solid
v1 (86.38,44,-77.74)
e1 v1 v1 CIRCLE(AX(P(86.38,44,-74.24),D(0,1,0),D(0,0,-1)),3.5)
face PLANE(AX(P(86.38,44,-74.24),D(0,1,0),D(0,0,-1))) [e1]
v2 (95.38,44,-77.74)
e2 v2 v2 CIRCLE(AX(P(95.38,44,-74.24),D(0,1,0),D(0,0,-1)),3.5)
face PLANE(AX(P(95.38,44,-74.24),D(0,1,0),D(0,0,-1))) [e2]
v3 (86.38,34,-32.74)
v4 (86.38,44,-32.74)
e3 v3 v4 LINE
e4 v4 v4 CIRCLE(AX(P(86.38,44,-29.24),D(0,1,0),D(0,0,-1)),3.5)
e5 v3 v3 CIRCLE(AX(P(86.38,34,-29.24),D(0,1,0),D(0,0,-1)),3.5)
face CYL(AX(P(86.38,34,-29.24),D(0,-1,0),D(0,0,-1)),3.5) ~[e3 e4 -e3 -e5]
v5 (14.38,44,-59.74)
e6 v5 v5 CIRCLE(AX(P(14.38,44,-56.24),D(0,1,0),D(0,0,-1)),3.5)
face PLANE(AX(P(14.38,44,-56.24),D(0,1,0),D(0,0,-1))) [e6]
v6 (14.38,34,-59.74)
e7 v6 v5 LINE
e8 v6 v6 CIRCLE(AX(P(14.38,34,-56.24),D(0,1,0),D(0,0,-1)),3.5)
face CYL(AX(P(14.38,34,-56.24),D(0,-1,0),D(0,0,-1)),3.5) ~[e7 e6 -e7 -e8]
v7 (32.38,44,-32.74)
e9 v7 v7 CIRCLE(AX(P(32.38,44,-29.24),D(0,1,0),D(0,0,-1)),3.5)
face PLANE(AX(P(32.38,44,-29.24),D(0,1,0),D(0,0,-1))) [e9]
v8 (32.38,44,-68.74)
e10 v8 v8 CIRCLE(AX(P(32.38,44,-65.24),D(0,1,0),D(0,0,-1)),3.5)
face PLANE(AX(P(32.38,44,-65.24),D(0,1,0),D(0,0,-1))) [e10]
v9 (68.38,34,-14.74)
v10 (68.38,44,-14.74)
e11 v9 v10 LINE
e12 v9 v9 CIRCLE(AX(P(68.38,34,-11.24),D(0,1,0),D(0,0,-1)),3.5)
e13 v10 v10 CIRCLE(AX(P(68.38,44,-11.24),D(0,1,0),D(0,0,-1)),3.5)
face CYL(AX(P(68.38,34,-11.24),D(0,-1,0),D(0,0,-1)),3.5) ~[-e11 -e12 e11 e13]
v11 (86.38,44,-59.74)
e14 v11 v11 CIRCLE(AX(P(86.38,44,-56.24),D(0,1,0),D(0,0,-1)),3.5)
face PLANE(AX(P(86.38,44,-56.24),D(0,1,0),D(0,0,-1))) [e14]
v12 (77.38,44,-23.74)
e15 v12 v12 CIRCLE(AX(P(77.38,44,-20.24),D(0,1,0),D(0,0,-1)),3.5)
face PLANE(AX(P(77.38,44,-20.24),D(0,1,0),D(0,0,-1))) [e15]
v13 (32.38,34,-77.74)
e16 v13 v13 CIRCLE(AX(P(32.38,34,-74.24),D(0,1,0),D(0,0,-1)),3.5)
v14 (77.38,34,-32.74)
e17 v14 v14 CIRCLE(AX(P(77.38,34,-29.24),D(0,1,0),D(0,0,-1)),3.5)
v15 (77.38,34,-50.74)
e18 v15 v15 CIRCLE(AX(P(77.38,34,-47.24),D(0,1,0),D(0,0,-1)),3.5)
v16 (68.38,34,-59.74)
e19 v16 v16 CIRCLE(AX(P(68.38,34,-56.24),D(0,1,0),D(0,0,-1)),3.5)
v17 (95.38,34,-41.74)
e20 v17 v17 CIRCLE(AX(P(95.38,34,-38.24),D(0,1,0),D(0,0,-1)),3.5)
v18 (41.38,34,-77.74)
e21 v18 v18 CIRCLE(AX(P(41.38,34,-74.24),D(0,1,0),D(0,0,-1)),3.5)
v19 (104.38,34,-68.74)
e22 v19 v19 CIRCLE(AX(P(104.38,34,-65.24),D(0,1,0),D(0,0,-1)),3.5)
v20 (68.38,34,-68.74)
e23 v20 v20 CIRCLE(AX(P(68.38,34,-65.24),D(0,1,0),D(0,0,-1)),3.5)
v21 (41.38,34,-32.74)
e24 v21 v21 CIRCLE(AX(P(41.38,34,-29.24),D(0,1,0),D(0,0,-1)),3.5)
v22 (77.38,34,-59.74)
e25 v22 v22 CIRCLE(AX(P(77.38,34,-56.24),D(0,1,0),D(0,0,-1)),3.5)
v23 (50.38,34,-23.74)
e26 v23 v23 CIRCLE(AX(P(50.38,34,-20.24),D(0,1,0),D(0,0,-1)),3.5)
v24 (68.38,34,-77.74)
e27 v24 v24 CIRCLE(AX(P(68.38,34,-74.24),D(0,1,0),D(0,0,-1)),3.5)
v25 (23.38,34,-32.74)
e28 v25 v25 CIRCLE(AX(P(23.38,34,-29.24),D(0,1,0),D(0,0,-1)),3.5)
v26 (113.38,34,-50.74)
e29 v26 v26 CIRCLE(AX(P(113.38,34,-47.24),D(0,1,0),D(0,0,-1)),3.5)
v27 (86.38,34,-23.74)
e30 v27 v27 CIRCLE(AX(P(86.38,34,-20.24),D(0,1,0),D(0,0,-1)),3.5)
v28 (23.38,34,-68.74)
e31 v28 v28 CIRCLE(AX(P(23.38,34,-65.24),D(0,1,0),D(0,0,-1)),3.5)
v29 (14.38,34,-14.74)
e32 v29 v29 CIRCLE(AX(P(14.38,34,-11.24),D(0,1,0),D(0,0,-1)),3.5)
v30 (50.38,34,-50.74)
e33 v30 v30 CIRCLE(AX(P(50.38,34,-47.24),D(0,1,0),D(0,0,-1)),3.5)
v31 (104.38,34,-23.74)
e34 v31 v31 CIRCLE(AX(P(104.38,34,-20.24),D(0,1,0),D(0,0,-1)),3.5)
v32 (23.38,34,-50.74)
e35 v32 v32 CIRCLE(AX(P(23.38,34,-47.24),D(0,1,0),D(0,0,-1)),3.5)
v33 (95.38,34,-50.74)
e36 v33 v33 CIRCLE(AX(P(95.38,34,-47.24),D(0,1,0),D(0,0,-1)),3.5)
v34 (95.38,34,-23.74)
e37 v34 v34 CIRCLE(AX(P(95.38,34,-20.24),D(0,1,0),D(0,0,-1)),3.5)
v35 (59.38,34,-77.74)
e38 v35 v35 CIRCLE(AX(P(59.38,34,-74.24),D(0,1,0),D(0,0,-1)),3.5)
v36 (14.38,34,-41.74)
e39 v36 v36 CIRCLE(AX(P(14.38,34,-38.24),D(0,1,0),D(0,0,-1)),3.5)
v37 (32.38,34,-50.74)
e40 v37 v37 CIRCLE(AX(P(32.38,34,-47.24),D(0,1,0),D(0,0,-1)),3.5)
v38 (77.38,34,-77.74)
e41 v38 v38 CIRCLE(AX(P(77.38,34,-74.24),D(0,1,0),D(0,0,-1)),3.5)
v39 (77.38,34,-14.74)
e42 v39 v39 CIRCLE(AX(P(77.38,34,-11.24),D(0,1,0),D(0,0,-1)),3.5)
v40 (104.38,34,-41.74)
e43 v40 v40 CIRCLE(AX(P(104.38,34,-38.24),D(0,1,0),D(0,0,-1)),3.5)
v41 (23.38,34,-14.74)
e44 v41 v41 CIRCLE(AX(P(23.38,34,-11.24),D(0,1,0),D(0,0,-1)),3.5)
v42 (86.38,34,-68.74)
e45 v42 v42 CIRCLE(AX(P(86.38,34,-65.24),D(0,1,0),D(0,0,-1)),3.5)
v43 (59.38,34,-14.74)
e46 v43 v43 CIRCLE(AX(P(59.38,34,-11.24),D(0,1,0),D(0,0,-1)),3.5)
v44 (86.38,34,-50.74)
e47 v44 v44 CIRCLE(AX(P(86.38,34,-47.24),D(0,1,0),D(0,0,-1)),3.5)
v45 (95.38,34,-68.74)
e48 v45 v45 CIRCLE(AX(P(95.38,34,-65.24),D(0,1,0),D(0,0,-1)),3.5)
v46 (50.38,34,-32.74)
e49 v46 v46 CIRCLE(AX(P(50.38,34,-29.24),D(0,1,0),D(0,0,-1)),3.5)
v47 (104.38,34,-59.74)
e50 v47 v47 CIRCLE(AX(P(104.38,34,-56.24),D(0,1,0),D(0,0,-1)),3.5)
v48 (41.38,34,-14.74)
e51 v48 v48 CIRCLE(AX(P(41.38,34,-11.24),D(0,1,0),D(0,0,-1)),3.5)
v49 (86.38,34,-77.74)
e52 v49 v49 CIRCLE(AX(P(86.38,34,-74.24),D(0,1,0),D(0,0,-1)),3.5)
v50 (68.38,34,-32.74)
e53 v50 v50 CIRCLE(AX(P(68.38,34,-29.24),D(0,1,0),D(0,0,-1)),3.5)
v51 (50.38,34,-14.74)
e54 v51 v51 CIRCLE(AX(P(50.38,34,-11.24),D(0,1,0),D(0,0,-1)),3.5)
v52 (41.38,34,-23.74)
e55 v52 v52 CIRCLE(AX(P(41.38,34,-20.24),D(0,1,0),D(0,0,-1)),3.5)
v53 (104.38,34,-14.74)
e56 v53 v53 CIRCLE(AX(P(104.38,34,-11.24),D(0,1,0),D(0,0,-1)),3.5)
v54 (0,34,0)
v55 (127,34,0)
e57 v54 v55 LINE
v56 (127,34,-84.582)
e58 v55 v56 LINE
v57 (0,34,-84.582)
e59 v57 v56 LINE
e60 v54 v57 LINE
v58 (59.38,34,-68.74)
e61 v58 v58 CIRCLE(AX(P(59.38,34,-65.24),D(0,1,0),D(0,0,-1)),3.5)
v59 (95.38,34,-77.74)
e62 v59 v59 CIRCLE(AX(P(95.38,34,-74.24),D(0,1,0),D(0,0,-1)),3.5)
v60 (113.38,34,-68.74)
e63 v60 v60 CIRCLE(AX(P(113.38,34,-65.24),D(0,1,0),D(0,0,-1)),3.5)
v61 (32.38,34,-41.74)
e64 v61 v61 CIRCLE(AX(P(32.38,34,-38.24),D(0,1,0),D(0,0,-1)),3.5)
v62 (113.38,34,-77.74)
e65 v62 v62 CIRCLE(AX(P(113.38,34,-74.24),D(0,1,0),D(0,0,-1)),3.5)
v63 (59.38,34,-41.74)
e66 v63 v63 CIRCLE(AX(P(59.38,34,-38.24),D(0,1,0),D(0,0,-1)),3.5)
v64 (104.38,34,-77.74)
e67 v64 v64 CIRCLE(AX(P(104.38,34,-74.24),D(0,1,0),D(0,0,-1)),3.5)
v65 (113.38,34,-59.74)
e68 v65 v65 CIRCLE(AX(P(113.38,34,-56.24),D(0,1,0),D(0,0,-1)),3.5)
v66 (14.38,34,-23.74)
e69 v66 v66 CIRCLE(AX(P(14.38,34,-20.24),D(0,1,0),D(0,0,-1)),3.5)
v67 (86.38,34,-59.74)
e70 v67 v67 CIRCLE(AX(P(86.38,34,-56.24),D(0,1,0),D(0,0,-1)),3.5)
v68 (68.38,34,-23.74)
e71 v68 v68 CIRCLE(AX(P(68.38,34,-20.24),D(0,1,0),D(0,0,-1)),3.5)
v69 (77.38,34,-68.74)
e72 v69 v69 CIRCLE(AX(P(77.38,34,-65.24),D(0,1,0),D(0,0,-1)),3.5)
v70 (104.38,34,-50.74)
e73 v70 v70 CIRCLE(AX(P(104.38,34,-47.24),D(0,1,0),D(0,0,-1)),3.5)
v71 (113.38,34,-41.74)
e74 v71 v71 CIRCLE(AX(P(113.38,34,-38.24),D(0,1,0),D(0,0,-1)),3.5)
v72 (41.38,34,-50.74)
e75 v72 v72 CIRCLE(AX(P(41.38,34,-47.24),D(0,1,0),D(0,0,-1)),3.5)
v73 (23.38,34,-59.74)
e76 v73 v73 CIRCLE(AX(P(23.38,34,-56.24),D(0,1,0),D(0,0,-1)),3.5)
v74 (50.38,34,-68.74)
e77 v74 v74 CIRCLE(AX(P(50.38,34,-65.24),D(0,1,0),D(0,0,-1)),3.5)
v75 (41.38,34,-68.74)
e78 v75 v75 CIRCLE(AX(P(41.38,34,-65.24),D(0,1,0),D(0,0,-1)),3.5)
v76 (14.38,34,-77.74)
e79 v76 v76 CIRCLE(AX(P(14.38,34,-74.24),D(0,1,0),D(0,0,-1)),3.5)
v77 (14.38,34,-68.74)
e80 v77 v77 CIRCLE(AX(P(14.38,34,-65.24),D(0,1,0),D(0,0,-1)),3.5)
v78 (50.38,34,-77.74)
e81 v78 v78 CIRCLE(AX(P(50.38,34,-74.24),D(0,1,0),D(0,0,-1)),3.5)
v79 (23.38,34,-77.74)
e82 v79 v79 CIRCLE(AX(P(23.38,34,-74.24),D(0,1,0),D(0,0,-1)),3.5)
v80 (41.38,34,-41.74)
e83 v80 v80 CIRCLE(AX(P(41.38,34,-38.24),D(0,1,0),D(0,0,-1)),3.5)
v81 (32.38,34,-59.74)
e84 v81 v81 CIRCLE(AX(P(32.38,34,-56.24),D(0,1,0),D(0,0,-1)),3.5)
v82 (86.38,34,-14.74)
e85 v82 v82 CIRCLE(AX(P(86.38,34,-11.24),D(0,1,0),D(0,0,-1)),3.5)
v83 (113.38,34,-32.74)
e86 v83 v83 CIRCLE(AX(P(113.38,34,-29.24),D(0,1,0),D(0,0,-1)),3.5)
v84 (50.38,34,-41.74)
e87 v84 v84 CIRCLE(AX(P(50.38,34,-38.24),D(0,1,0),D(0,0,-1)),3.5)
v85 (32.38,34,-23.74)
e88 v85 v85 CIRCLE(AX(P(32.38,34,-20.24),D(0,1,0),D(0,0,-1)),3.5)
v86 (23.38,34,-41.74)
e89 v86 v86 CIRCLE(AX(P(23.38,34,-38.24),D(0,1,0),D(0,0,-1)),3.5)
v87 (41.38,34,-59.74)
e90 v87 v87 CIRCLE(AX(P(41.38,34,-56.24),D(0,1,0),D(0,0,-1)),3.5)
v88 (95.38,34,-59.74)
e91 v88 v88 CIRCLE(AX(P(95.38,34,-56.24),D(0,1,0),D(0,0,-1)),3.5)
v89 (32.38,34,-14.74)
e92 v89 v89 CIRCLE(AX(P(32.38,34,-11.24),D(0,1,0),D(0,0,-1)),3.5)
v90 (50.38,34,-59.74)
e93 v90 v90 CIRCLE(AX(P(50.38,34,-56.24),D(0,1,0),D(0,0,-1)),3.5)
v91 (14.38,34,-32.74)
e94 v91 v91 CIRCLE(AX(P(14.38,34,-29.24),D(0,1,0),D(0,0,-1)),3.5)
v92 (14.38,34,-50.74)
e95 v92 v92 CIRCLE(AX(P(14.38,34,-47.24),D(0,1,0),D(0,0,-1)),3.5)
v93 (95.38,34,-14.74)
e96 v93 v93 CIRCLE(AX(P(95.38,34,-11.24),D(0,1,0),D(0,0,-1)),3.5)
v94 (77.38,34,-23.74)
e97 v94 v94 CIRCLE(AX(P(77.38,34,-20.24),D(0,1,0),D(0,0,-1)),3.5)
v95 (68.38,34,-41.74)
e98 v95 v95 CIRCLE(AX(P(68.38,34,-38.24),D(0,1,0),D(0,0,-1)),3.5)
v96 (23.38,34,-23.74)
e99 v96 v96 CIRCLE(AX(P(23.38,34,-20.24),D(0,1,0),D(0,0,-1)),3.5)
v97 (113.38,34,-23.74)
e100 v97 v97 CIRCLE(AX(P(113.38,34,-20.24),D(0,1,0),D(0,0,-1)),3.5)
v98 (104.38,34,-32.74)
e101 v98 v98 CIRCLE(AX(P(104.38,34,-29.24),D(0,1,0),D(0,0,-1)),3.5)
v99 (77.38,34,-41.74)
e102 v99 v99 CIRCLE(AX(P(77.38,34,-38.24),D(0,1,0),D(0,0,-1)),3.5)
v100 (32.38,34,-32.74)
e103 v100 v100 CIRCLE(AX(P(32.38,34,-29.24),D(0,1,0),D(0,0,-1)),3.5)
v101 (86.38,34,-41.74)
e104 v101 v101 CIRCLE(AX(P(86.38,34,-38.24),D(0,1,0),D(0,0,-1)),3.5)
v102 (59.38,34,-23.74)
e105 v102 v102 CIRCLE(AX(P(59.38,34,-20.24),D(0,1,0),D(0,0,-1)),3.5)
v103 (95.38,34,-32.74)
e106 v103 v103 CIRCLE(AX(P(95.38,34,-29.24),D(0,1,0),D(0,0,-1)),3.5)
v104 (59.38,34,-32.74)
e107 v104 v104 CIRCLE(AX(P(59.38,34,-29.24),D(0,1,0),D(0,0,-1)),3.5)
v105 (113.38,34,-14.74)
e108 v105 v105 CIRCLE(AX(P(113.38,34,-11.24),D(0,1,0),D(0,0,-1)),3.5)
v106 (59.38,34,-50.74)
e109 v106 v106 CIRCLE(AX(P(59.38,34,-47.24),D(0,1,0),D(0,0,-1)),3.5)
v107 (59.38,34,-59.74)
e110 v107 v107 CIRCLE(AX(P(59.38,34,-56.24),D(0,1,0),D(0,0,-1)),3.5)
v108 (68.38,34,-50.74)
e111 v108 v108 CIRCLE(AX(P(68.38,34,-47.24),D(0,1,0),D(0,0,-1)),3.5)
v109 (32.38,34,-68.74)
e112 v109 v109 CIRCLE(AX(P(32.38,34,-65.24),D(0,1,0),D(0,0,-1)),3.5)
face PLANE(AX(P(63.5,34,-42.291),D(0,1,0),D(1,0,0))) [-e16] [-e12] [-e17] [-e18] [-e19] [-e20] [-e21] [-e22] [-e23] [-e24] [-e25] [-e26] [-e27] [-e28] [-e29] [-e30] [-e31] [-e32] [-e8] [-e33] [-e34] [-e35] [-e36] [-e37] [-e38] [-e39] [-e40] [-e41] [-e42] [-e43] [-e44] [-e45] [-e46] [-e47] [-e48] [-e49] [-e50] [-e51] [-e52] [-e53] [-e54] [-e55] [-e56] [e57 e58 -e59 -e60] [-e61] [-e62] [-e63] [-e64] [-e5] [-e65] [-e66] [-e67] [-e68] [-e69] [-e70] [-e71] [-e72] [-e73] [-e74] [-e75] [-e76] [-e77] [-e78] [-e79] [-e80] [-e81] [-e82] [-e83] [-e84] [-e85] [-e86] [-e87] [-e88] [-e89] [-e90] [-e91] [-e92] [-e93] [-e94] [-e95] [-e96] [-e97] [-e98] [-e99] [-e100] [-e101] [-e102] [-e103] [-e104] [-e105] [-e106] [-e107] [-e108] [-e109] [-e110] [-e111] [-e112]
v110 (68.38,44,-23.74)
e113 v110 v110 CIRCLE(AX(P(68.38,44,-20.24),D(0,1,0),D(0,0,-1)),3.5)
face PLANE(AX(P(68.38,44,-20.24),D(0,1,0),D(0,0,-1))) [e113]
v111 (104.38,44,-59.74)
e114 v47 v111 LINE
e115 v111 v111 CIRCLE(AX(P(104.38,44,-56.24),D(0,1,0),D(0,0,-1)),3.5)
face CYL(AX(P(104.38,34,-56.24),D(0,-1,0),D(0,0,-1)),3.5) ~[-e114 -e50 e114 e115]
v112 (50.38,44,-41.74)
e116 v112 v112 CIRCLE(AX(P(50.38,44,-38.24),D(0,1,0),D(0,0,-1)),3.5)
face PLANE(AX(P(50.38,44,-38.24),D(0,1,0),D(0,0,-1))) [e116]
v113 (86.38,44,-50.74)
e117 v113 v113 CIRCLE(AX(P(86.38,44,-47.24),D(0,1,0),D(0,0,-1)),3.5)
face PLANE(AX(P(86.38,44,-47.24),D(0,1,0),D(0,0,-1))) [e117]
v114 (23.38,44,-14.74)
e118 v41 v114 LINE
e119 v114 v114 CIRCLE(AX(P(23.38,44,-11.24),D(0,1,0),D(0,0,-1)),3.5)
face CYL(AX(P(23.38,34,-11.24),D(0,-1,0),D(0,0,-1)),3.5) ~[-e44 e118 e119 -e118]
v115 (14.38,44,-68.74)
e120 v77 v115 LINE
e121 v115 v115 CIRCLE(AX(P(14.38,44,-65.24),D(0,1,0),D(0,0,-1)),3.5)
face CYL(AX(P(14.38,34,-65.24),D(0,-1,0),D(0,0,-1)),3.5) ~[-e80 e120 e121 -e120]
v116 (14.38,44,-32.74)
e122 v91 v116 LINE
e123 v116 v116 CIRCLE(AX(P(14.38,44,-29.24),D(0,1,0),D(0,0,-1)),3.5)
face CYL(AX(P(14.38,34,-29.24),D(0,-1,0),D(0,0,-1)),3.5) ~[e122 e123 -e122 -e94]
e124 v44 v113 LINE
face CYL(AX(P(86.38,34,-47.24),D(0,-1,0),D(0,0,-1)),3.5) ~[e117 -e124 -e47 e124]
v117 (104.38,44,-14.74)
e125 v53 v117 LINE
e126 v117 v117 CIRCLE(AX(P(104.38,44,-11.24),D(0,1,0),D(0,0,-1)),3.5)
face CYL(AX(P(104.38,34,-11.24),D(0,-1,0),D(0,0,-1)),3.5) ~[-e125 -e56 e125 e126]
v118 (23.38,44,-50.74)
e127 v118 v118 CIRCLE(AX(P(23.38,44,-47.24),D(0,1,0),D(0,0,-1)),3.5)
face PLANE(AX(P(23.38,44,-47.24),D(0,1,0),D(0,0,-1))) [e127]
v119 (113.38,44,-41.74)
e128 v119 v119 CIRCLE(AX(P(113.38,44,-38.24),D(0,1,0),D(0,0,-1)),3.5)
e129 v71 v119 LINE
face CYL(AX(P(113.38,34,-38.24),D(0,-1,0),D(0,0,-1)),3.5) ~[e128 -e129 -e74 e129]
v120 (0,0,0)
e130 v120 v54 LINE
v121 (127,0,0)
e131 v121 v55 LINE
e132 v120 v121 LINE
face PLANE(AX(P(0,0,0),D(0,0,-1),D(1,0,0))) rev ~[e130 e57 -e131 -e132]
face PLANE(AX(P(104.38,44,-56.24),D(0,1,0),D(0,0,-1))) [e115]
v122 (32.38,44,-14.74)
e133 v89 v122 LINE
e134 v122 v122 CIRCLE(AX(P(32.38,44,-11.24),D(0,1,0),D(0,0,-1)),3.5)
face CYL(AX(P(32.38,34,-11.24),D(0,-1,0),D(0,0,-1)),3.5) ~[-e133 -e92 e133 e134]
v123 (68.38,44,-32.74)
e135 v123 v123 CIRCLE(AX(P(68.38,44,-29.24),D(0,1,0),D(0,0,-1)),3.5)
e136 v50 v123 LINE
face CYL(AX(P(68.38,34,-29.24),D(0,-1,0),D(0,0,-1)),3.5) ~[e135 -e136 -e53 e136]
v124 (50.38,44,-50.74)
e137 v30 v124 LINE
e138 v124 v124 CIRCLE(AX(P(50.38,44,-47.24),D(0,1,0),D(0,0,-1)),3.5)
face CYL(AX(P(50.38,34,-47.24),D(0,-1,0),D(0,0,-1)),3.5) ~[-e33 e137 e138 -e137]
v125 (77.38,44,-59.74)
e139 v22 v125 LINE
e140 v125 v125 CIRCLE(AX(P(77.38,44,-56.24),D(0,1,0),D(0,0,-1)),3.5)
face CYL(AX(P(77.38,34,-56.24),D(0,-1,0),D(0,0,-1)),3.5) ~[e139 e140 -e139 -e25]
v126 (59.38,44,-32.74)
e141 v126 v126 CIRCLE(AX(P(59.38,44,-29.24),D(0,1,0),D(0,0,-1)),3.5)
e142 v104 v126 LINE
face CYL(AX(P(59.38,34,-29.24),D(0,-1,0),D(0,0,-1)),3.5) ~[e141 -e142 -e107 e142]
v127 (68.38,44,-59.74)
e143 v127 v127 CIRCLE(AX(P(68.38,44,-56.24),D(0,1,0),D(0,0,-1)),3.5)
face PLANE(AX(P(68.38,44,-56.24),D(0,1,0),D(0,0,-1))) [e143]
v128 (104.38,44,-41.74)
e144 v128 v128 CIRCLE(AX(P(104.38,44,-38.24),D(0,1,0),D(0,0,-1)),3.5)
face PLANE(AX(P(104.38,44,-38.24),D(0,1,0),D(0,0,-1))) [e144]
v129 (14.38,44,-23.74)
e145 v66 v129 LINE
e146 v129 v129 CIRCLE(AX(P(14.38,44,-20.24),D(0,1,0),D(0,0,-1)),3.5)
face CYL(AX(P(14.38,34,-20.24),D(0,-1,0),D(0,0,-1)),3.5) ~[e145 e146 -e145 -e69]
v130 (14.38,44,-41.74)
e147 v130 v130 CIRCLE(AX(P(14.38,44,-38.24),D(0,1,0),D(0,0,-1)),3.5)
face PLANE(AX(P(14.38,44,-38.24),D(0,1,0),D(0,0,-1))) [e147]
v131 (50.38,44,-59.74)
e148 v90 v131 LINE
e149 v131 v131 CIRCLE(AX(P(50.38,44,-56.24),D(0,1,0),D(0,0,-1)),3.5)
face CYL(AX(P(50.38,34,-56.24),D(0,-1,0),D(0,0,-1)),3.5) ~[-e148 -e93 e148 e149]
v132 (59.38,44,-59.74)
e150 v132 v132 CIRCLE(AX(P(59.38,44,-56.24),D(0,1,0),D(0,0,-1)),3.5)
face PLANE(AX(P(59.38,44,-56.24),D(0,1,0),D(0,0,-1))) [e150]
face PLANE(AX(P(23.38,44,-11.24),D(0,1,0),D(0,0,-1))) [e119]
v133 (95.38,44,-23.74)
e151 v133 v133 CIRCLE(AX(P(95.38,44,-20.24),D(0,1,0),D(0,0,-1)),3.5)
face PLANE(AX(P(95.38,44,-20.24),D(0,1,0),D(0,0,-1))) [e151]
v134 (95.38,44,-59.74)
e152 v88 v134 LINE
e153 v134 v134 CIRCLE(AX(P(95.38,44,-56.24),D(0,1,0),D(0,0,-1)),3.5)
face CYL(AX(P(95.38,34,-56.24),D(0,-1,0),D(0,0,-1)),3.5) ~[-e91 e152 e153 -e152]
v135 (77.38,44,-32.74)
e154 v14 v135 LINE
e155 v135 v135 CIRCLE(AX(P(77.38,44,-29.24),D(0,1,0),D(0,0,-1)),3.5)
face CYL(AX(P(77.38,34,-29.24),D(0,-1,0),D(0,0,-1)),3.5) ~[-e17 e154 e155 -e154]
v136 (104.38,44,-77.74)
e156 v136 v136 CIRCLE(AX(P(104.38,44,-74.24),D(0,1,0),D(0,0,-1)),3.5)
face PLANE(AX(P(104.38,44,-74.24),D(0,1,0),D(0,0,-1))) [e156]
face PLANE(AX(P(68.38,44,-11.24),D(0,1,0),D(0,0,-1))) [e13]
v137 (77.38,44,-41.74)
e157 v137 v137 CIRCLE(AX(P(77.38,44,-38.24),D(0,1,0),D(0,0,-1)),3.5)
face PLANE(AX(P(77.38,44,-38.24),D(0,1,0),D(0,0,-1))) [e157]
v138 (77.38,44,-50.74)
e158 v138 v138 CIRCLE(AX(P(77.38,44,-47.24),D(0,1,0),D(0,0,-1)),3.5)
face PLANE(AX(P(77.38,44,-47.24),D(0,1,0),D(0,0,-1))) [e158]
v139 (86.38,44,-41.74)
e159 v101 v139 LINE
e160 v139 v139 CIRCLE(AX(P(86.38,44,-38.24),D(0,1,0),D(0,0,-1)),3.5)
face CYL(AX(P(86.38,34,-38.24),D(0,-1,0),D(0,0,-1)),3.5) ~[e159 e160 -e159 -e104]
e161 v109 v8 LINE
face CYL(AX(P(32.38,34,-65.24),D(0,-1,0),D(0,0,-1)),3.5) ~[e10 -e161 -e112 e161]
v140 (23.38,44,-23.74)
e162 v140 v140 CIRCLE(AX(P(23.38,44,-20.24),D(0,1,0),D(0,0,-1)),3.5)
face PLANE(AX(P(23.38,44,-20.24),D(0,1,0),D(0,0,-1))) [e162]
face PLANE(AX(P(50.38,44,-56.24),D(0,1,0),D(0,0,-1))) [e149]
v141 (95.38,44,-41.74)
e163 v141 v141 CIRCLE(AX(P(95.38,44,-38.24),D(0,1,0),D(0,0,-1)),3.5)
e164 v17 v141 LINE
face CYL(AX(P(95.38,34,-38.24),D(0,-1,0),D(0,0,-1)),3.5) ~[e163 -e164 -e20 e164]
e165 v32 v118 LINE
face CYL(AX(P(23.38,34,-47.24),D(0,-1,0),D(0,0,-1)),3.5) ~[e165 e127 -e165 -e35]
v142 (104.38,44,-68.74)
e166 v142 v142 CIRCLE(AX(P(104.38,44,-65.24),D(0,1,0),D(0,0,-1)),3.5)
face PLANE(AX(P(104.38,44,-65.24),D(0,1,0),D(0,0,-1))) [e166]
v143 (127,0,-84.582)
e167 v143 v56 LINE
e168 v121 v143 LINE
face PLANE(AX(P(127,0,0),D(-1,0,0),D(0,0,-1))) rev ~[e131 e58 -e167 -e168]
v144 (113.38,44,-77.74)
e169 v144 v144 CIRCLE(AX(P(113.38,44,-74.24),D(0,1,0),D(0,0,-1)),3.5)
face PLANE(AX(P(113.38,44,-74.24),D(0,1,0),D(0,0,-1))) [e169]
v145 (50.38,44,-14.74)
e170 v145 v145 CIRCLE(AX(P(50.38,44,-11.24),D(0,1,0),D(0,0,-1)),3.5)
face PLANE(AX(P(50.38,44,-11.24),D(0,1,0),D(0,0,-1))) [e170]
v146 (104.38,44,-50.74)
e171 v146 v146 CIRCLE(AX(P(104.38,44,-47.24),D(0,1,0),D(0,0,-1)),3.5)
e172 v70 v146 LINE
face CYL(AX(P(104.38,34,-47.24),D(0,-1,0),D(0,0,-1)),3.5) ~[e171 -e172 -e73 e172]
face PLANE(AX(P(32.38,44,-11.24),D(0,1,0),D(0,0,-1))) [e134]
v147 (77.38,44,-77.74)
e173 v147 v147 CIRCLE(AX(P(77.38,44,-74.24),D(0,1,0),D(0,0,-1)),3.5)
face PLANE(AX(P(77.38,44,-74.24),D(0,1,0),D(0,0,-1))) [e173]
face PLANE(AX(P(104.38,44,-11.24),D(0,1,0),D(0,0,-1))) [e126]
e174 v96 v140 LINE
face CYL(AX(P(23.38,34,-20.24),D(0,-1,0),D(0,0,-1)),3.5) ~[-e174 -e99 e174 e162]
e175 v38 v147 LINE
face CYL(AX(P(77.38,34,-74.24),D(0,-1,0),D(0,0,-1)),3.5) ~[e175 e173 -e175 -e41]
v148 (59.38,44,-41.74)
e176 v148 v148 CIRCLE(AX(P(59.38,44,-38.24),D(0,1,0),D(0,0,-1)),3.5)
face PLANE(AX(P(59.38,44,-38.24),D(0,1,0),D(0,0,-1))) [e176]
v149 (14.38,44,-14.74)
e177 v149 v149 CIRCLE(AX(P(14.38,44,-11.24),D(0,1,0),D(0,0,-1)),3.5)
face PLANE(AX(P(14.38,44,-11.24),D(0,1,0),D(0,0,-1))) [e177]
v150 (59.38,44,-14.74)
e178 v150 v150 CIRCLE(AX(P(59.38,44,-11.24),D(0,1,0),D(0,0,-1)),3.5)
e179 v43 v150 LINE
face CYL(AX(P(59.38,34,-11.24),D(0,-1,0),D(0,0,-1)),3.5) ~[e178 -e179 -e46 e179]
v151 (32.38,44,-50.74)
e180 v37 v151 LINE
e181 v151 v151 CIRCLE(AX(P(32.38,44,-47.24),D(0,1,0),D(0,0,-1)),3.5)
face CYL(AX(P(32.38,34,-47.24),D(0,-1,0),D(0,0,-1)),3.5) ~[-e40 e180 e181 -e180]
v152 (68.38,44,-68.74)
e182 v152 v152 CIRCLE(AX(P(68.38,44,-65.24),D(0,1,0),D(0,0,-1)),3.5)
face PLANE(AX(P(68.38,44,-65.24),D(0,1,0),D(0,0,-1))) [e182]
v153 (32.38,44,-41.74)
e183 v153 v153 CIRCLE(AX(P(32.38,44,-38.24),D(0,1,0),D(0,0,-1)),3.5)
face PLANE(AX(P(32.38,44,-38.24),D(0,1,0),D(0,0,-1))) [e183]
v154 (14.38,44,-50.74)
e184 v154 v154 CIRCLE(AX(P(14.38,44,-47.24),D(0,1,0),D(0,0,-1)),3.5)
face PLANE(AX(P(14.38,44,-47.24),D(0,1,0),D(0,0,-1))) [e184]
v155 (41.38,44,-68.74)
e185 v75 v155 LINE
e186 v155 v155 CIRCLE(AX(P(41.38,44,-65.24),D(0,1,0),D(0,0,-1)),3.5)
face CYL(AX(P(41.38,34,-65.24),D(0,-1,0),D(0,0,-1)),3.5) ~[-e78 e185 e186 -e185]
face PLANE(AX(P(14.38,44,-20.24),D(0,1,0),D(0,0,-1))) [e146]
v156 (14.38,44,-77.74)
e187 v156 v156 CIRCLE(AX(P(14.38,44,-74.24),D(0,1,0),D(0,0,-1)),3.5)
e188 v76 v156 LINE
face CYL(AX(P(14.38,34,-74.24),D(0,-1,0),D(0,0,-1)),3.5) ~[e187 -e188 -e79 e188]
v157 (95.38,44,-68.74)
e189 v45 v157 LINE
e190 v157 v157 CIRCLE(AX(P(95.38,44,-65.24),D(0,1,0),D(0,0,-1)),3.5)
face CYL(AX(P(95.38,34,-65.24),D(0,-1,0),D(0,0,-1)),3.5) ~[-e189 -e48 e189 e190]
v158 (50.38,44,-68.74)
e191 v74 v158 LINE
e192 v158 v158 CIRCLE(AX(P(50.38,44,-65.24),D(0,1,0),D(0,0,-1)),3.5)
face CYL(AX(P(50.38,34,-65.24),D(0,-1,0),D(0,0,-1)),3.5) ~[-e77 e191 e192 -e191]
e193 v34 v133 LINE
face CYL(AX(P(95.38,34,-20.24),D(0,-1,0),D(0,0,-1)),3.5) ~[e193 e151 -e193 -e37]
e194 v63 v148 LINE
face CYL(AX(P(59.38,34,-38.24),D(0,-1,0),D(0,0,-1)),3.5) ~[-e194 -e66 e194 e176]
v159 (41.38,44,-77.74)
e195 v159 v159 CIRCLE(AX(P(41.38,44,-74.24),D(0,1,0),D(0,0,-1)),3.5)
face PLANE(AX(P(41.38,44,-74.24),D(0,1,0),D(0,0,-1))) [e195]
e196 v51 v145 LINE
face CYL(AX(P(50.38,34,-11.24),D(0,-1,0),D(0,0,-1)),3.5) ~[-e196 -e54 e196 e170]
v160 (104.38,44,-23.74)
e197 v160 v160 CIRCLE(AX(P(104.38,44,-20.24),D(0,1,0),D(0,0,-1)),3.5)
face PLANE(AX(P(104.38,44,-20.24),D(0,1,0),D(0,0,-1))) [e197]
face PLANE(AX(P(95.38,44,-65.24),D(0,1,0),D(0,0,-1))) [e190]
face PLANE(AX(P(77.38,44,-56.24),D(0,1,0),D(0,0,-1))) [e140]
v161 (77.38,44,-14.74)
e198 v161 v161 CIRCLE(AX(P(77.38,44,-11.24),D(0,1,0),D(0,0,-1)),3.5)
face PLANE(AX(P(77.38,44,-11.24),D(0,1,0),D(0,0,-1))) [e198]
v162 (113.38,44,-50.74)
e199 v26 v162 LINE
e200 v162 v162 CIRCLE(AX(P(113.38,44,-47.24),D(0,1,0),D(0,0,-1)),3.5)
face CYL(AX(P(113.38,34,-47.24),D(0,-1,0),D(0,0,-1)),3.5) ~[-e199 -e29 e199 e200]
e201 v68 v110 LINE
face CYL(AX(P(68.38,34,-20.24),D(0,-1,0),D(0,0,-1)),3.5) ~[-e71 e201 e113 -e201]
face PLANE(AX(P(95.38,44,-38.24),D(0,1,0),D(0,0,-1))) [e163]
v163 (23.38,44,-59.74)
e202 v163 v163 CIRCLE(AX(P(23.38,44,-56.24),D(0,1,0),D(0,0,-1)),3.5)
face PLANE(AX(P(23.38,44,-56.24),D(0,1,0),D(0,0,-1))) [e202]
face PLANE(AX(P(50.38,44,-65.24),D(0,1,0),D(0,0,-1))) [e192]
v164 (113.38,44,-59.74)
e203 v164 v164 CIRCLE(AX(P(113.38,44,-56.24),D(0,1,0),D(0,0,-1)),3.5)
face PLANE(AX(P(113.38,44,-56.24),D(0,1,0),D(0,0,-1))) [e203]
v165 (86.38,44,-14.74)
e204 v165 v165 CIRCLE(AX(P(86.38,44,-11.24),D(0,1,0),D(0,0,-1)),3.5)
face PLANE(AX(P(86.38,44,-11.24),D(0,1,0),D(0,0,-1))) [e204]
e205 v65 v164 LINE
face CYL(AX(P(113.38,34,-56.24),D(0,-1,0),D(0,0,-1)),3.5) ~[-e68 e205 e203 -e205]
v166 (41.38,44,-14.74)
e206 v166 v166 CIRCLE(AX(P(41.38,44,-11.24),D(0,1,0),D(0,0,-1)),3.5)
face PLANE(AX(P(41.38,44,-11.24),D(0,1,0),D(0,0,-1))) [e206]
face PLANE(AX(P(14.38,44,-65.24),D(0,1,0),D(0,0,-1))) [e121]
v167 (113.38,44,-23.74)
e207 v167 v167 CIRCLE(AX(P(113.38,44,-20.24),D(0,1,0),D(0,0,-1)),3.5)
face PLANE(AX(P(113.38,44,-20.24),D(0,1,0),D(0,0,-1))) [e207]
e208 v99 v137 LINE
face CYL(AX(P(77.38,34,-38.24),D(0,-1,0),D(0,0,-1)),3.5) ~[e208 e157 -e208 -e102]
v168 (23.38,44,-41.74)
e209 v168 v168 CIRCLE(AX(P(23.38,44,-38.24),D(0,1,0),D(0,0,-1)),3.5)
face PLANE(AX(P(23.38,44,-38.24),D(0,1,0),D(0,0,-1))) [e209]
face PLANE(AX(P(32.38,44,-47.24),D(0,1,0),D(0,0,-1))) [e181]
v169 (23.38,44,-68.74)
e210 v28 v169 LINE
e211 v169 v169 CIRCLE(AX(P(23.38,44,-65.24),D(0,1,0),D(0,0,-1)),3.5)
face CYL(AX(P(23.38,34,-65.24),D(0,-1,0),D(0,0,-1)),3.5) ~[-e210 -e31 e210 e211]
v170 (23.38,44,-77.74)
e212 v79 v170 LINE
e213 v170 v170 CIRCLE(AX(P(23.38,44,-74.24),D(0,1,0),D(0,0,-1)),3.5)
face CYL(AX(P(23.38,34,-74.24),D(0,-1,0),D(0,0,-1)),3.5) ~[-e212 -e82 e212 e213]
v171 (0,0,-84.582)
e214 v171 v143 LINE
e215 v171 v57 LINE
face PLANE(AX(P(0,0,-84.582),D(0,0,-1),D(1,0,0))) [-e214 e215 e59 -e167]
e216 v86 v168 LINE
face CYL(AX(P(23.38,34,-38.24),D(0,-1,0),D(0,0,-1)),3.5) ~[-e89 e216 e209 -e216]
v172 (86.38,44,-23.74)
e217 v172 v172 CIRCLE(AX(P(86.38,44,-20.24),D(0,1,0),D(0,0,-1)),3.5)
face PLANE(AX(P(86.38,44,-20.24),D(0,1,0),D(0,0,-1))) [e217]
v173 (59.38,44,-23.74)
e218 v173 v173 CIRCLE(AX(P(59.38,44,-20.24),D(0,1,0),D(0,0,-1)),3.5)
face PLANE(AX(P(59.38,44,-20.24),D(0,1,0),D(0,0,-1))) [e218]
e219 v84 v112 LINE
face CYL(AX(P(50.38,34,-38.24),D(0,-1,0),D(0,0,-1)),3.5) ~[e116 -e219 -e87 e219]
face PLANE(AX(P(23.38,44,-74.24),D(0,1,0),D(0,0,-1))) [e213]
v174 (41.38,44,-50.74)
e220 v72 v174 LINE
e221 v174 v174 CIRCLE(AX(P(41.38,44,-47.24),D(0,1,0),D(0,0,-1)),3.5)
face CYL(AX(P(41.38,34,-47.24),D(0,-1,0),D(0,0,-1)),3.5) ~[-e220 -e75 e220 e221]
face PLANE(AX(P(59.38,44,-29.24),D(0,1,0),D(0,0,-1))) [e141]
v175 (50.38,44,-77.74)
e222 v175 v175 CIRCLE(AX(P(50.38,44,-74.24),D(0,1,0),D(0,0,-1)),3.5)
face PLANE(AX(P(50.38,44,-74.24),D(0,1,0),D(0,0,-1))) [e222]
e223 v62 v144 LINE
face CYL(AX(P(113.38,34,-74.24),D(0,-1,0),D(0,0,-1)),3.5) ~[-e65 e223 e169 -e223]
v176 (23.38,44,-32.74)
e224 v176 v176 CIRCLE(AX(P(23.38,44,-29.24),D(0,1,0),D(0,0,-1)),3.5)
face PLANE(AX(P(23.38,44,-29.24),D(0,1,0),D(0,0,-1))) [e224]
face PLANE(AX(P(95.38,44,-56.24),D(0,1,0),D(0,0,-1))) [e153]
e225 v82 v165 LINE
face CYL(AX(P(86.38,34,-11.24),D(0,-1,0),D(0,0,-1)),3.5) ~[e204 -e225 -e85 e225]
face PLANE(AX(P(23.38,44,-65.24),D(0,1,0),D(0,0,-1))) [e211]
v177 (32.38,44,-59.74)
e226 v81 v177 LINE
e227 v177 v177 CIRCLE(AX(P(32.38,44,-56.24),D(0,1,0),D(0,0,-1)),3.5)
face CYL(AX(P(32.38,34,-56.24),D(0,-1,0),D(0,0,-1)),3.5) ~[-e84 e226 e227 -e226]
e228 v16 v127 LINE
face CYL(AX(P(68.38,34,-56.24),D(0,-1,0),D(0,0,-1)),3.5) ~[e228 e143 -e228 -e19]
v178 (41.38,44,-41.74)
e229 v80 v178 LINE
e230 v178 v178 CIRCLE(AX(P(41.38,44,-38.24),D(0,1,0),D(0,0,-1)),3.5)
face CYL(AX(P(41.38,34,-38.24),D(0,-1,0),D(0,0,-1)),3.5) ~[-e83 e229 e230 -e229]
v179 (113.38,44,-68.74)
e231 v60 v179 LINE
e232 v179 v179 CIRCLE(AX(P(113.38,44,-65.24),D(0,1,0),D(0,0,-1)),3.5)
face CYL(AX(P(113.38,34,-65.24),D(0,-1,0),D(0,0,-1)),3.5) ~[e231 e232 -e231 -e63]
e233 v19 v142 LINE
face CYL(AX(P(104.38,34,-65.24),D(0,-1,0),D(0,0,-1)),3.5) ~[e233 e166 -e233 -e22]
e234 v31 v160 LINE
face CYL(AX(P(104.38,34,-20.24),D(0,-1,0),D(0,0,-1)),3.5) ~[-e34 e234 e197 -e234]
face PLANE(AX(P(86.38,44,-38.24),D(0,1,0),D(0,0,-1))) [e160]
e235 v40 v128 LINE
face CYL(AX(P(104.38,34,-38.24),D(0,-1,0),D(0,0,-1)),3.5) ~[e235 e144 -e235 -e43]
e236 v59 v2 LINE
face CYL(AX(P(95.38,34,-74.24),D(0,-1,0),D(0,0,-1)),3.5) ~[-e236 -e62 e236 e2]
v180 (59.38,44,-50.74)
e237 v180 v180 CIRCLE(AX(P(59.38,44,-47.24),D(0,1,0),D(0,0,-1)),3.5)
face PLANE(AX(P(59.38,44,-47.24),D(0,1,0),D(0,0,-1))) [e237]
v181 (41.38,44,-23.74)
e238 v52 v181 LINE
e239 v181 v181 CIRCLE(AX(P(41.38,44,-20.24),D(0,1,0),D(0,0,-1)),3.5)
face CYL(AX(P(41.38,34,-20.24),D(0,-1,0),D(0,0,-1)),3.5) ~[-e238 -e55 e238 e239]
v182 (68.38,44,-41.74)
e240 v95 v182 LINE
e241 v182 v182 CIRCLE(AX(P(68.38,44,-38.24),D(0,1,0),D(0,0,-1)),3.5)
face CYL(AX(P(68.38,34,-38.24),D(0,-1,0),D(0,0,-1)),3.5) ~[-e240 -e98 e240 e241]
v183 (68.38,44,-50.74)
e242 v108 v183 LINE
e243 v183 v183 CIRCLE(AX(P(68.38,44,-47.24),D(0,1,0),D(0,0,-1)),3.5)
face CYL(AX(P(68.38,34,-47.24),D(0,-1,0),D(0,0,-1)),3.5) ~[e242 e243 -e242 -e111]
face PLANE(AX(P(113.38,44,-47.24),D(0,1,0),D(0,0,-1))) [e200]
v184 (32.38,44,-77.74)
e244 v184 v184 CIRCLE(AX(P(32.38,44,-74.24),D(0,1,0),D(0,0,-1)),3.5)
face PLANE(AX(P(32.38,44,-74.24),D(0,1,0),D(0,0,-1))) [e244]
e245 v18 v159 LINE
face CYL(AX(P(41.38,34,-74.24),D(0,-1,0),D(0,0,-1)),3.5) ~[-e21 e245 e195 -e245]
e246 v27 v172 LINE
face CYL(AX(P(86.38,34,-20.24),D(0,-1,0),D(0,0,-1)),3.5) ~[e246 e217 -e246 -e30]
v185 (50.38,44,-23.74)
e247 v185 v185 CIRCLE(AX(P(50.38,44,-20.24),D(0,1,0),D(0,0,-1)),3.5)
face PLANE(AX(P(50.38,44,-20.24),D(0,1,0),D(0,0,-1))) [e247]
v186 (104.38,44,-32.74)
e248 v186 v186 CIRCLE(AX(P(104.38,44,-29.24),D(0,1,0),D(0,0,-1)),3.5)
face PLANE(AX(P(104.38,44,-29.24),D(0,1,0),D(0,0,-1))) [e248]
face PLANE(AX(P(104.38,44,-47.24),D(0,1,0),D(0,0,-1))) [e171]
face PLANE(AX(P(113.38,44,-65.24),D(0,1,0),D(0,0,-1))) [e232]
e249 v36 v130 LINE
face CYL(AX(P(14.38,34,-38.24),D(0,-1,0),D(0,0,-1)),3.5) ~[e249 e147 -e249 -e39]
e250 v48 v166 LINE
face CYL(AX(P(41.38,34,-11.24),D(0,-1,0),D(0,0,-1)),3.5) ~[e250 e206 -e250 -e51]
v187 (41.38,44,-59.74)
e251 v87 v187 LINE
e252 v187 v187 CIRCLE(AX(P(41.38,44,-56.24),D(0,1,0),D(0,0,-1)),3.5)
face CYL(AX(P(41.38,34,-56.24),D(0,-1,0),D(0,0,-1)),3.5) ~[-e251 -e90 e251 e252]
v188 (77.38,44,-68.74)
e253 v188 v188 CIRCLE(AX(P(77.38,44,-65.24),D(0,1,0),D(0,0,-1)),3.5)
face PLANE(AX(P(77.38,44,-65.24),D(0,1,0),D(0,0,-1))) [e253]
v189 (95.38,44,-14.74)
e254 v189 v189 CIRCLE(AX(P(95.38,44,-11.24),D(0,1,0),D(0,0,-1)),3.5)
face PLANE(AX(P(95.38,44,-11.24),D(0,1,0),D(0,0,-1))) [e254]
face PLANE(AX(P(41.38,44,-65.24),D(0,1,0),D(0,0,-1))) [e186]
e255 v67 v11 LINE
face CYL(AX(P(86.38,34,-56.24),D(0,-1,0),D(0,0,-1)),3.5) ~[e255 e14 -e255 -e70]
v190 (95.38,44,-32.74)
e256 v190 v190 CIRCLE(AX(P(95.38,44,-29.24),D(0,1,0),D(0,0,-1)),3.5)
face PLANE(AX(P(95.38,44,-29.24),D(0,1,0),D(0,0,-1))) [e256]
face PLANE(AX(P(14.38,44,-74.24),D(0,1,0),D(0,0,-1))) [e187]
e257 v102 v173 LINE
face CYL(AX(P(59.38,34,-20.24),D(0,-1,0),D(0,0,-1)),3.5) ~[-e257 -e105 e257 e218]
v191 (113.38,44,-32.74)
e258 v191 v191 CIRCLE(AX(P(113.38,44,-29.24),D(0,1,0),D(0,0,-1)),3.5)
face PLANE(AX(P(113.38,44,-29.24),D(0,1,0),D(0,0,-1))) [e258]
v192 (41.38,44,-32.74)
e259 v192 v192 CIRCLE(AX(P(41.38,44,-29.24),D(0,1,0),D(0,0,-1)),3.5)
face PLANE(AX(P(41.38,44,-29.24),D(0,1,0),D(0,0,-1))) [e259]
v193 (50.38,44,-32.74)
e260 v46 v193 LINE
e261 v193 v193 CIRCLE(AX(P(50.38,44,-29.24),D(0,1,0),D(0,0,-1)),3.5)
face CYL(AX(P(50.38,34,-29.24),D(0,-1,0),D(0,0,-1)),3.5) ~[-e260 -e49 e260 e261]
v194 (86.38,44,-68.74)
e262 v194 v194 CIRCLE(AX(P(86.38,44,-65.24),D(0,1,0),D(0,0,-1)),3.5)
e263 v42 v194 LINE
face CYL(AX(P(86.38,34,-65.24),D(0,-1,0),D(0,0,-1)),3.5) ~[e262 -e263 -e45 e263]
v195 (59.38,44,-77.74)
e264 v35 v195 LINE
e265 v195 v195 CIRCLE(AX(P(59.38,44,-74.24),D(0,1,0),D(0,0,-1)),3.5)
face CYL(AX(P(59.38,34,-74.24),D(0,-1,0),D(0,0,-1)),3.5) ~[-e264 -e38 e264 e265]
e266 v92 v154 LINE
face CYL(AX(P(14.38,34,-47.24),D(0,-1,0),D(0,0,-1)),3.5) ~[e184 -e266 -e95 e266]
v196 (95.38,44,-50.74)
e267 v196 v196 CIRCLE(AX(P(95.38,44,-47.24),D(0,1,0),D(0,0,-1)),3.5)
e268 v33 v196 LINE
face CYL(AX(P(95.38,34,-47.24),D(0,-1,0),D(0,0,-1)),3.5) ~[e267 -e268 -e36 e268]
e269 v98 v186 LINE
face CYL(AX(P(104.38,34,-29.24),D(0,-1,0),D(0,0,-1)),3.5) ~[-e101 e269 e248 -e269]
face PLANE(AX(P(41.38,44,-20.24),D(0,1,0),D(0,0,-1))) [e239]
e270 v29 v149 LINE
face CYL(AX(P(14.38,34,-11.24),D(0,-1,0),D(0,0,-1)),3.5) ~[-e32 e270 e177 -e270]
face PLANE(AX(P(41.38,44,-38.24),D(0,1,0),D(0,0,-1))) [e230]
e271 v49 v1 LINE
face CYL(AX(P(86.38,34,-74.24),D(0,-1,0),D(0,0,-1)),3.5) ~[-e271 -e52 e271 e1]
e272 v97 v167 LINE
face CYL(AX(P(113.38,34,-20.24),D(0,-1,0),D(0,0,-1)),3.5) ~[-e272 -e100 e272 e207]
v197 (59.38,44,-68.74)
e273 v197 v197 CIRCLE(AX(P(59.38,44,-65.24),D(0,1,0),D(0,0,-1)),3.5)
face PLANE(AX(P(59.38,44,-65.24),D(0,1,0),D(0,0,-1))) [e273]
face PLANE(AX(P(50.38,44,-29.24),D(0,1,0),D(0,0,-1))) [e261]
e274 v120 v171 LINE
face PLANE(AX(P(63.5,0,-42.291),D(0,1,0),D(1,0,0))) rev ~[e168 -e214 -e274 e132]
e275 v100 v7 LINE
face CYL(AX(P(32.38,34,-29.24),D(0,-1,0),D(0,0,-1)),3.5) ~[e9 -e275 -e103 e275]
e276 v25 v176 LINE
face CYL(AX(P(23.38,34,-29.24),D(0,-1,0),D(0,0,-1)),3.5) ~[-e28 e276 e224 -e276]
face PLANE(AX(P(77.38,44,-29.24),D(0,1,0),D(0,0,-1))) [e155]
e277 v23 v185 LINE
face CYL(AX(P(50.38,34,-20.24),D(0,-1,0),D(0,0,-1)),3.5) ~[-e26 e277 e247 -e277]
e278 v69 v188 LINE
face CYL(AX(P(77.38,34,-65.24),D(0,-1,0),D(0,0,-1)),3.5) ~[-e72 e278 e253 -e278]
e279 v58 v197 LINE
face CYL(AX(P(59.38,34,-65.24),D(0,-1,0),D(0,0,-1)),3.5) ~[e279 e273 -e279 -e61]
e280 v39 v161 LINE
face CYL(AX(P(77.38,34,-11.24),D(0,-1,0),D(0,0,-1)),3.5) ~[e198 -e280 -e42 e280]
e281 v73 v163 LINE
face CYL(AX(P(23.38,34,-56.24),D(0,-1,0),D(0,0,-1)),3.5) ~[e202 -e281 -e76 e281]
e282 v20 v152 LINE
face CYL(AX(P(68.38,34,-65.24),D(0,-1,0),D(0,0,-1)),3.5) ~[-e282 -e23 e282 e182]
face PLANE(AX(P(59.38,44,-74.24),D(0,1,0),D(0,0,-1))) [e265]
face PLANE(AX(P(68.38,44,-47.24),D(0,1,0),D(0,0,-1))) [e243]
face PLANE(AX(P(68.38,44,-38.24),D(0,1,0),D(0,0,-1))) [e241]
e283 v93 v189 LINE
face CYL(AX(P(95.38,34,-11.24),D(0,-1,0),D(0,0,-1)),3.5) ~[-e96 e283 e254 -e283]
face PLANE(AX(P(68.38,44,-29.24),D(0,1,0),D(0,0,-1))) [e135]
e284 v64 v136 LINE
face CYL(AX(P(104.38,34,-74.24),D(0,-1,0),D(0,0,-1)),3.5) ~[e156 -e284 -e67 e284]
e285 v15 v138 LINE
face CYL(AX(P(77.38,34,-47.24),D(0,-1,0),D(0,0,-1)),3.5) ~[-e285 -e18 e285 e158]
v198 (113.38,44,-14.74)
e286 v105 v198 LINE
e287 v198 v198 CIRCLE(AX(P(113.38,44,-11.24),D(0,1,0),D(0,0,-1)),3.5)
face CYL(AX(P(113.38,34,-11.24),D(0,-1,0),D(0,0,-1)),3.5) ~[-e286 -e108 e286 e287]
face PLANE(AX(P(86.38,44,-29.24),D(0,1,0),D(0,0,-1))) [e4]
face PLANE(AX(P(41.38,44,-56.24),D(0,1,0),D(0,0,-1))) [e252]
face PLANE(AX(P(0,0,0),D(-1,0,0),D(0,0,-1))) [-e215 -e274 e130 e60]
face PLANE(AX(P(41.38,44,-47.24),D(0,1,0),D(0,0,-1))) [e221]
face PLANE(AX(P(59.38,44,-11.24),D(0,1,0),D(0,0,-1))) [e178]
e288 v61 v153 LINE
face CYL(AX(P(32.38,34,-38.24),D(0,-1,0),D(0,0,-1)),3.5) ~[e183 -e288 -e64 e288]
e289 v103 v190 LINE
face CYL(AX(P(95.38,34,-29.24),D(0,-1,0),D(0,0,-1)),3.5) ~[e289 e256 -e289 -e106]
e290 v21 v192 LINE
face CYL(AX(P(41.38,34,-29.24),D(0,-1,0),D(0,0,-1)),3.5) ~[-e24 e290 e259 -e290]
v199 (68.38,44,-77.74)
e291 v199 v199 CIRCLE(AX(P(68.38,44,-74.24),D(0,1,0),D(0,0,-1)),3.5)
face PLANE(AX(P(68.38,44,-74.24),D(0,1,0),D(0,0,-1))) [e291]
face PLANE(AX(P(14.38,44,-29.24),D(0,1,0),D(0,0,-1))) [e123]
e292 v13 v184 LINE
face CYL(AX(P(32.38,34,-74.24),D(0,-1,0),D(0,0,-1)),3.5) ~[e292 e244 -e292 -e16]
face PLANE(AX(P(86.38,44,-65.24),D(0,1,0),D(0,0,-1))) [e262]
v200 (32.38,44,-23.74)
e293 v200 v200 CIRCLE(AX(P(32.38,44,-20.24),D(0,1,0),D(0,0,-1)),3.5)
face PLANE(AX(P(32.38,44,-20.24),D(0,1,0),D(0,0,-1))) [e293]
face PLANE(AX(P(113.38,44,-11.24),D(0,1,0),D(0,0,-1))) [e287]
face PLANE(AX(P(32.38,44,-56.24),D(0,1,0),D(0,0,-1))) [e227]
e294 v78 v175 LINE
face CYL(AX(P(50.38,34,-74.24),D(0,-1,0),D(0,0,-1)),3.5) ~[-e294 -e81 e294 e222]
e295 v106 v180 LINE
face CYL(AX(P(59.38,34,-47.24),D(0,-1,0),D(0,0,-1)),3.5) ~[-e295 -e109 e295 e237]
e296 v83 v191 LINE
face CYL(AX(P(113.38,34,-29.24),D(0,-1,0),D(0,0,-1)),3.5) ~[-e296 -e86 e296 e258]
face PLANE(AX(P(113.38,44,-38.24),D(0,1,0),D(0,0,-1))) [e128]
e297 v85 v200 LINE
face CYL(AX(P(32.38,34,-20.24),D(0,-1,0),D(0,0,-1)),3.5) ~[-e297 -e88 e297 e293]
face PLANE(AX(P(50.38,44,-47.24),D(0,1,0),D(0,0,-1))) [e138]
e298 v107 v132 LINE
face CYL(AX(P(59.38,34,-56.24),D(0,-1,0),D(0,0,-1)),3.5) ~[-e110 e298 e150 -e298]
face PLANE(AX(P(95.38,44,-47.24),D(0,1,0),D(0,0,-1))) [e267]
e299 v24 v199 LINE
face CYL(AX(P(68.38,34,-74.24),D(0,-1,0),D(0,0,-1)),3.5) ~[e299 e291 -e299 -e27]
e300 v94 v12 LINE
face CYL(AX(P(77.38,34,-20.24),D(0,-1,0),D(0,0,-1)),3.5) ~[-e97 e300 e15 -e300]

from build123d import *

# Parameters (mm, degrees)
SKETCH1_W           = 127
SKETCH1_H           = 84.582
BOSS_EXTRUDE1_DEPTH = 34
SKETCH4_R           = 3.5
BOSS_EXTRUDE2_DEPTH = 10


with BuildPart() as part:
    # Sketch1 → Boss-Extrude1 (new body)
    with BuildSketch(Plane(origin=(0, 0, 0), x_dir=(1, 0, 0), z_dir=(0, 1, 0))):
        with Locations((63.5, 42.291)):
            Rectangle(SKETCH1_W, SKETCH1_H)
    extrude(amount=BOSS_EXTRUDE1_DEPTH)

    # Sketch4 → Boss-Extrude2 (add)
    with BuildSketch(Plane(origin=(0, 34, 0), x_dir=(1, 0, 0), z_dir=(0, 1, 0))):
        with Locations(Location((104.38, 11.24, 0), (0, 0, 90))):
            Circle(SKETCH4_R)
        with Locations(Location((95.38, 11.24, 0), (0, 0, 90))):
            Circle(SKETCH4_R)
        with Locations(Location((86.38, 11.24, 0), (0, 0, 90))):
            Circle(SKETCH4_R)
        with Locations(Location((77.38, 11.24, 0), (0, 0, 90))):
            Circle(SKETCH4_R)
        with Locations(Location((68.38, 11.24, 0), (0, 0, 90))):
            Circle(SKETCH4_R)
        with Locations(Location((59.38, 11.24, 0), (0, 0, 90))):
            Circle(SKETCH4_R)
        with Locations(Location((50.38, 11.24, 0), (0, 0, 90))):
            Circle(SKETCH4_R)
        with Locations(Location((41.38, 11.24, 0), (0, 0, 90))):
            Circle(SKETCH4_R)
        with Locations(Location((32.38, 11.24, 0), (0, 0, 90))):
            Circle(SKETCH4_R)
        with Locations(Location((23.38, 11.24, 0), (0, 0, 90))):
            Circle(SKETCH4_R)
        with Locations(Location((14.38, 11.24, 0), (0, 0, 90))):
            Circle(SKETCH4_R)
        with Locations(Location((113.38, 20.24, 0), (0, 0, 90))):
            Circle(SKETCH4_R)
        with Locations(Location((104.38, 20.24, 0), (0, 0, 90))):
            Circle(SKETCH4_R)
        with Locations(Location((95.38, 20.24, 0), (0, 0, 90))):
            Circle(SKETCH4_R)
        with Locations(Location((86.38, 20.24, 0), (0, 0, 90))):
            Circle(SKETCH4_R)
        with Locations(Location((77.38, 20.24, 0), (0, 0, 90))):
            Circle(SKETCH4_R)
        with Locations(Location((68.38, 20.24, 0), (0, 0, 90))):
            Circle(SKETCH4_R)
        with Locations(Location((59.38, 20.24, 0), (0, 0, 90))):
            Circle(SKETCH4_R)
        with Locations(Location((50.38, 20.24, 0), (0, 0, 90))):
            Circle(SKETCH4_R)
        with Locations(Location((41.38, 20.24, 0), (0, 0, 90))):
            Circle(SKETCH4_R)
        with Locations(Location((32.38, 20.24, 0), (0, 0, 90))):
            Circle(SKETCH4_R)
        with Locations(Location((23.38, 20.24, 0), (0, 0, 90))):
            Circle(SKETCH4_R)
        with Locations(Location((14.38, 20.24, 0), (0, 0, 90))):
            Circle(SKETCH4_R)
        with Locations(Location((113.38, 29.24, 0), (0, 0, 90))):
            Circle(SKETCH4_R)
        with Locations(Location((104.38, 29.24, 0), (0, 0, 90))):
            Circle(SKETCH4_R)
        with Locations(Location((95.38, 29.24, 0), (0, 0, 90))):
            Circle(SKETCH4_R)
        with Locations(Location((113.38, 11.24, 0), (0, 0, 90))):
            Circle(SKETCH4_R)
        with Locations(Location((86.38, 29.24, 0), (0, 0, 90))):
            Circle(SKETCH4_R)
        with Locations(Location((77.38, 29.24, 0), (0, 0, 90))):
            Circle(SKETCH4_R)
        with Locations(Location((68.38, 29.24, 0), (0, 0, 90))):
            Circle(SKETCH4_R)
        with Locations(Location((59.38, 29.24, 0), (0, 0, 90))):
            Circle(SKETCH4_R)
        with Locations(Location((50.38, 29.24, 0), (0, 0, 90))):
            Circle(SKETCH4_R)
        with Locations(Location((41.38, 29.24, 0), (0, 0, 90))):
            Circle(SKETCH4_R)
        with Locations(Location((32.38, 29.24, 0), (0, 0, 90))):
            Circle(SKETCH4_R)
        with Locations(Location((23.38, 29.24, 0), (0, 0, 90))):
            Circle(SKETCH4_R)
        with Locations(Location((14.38, 29.24, 0), (0, 0, 90))):
            Circle(SKETCH4_R)
        with Locations(Location((113.38, 38.24, 0), (0, 0, 90))):
            Circle(SKETCH4_R)
        with Locations(Location((104.38, 38.24, 0), (0, 0, 90))):
            Circle(SKETCH4_R)
        with Locations(Location((95.38, 38.24, 0), (0, 0, 90))):
            Circle(SKETCH4_R)
        with Locations(Location((86.38, 38.24, 0), (0, 0, 90))):
            Circle(SKETCH4_R)
        with Locations(Location((77.38, 38.24, 0), (0, 0, 90))):
            Circle(SKETCH4_R)
        with Locations(Location((68.38, 38.24, 0), (0, 0, 90))):
            Circle(SKETCH4_R)
        with Locations(Location((59.38, 38.24, 0), (0, 0, 90))):
            Circle(SKETCH4_R)
        with Locations(Location((50.38, 38.24, 0), (0, 0, 90))):
            Circle(SKETCH4_R)
        with Locations(Location((41.38, 38.24, 0), (0, 0, 90))):
            Circle(SKETCH4_R)
        with Locations(Location((32.38, 38.24, 0), (0, 0, 90))):
            Circle(SKETCH4_R)
        with Locations(Location((23.38, 38.24, 0), (0, 0, 90))):
            Circle(SKETCH4_R)
        with Locations(Location((14.38, 38.24, 0), (0, 0, 90))):
            Circle(SKETCH4_R)
        with Locations(Location((113.38, 47.24, 0), (0, 0, 90))):
            Circle(SKETCH4_R)
        with Locations(Location((104.38, 47.24, 0), (0, 0, 90))):
            Circle(SKETCH4_R)
        with Locations(Location((95.38, 47.24, 0), (0, 0, 90))):
            Circle(SKETCH4_R)
        with Locations(Location((86.38, 47.24, 0), (0, 0, 90))):
            Circle(SKETCH4_R)
        with Locations(Location((77.38, 47.24, 0), (0, 0, 90))):
            Circle(SKETCH4_R)
        with Locations(Location((68.38, 47.24, 0), (0, 0, 90))):
            Circle(SKETCH4_R)
        with Locations(Location((59.38, 47.24, 0), (0, 0, 90))):
            Circle(SKETCH4_R)
        with Locations(Location((50.38, 47.24, 0), (0, 0, 90))):
            Circle(SKETCH4_R)
        with Locations(Location((41.38, 47.24, 0), (0, 0, 90))):
            Circle(SKETCH4_R)
        with Locations(Location((32.38, 47.24, 0), (0, 0, 90))):
            Circle(SKETCH4_R)
        with Locations(Location((23.38, 47.24, 0), (0, 0, 90))):
            Circle(SKETCH4_R)
        with Locations(Location((14.38, 47.24, 0), (0, 0, 90))):
            Circle(SKETCH4_R)
        with Locations(Location((113.38, 56.24, 0), (0, 0, 90))):
            Circle(SKETCH4_R)
        with Locations(Location((104.38, 56.24, 0), (0, 0, 90))):
            Circle(SKETCH4_R)
        with Locations(Location((95.38, 56.24, 0), (0, 0, 90))):
            Circle(SKETCH4_R)
        with Locations(Location((86.38, 56.24, 0), (0, 0, 90))):
            Circle(SKETCH4_R)
        with Locations(Location((77.38, 56.24, 0), (0, 0, 90))):
            Circle(SKETCH4_R)
        with Locations(Location((68.38, 56.24, 0), (0, 0, 90))):
            Circle(SKETCH4_R)
        with Locations(Location((59.38, 56.24, 0), (0, 0, 90))):
            Circle(SKETCH4_R)
        with Locations(Location((50.38, 56.24, 0), (0, 0, 90))):
            Circle(SKETCH4_R)
        with Locations(Location((41.38, 56.24, 0), (0, 0, 90))):
            Circle(SKETCH4_R)
        with Locations(Location((32.38, 56.24, 0), (0, 0, 90))):
            Circle(SKETCH4_R)
        with Locations(Location((23.38, 56.24, 0), (0, 0, 90))):
            Circle(SKETCH4_R)
        with Locations(Location((14.38, 56.24, 0), (0, 0, 90))):
            Circle(SKETCH4_R)
        with Locations(Location((113.38, 65.24, 0), (0, 0, 90))):
            Circle(SKETCH4_R)
        with Locations(Location((104.38, 65.24, 0), (0, 0, 90))):
            Circle(SKETCH4_R)
        with Locations(Location((95.38, 65.24, 0), (0, 0, 90))):
            Circle(SKETCH4_R)
        with Locations(Location((86.38, 65.24, 0), (0, 0, 90))):
            Circle(SKETCH4_R)
        with Locations(Location((77.38, 65.24, 0), (0, 0, 90))):
            Circle(SKETCH4_R)
        with Locations(Location((68.38, 65.24, 0), (0, 0, 90))):
            Circle(SKETCH4_R)
        with Locations(Location((59.38, 65.24, 0), (0, 0, 90))):
            Circle(SKETCH4_R)
        with Locations(Location((50.38, 65.24, 0), (0, 0, 90))):
            Circle(SKETCH4_R)
        with Locations(Location((41.38, 65.24, 0), (0, 0, 90))):
            Circle(SKETCH4_R)
        with Locations(Location((32.38, 65.24, 0), (0, 0, 90))):
            Circle(SKETCH4_R)
        with Locations(Location((23.38, 65.24, 0), (0, 0, 90))):
            Circle(SKETCH4_R)
        with Locations(Location((14.38, 65.24, 0), (0, 0, 90))):
            Circle(SKETCH4_R)
        with Locations(Location((113.38, 74.24, 0), (0, 0, 90))):
            Circle(SKETCH4_R)
        with Locations(Location((104.38, 74.24, 0), (0, 0, 90))):
            Circle(SKETCH4_R)
        with Locations(Location((95.38, 74.24, 0), (0, 0, 90))):
            Circle(SKETCH4_R)
        with Locations(Location((86.38, 74.24, 0), (0, 0, 90))):
            Circle(SKETCH4_R)
        with Locations(Location((77.38, 74.24, 0), (0, 0, 90))):
            Circle(SKETCH4_R)
        with Locations(Location((68.38, 74.24, 0), (0, 0, 90))):
            Circle(SKETCH4_R)
        with Locations(Location((59.38, 74.24, 0), (0, 0, 90))):
            Circle(SKETCH4_R)
        with Locations(Location((50.38, 74.24, 0), (0, 0, 90))):
            Circle(SKETCH4_R)
        with Locations(Location((41.38, 74.24, 0), (0, 0, 90))):
            Circle(SKETCH4_R)
        with Locations(Location((32.38, 74.24, 0), (0, 0, 90))):
            Circle(SKETCH4_R)
        with Locations(Location((23.38, 74.24, 0), (0, 0, 90))):
            Circle(SKETCH4_R)
        with Locations(Location((14.38, 74.24, 0), (0, 0, 90))):
            Circle(SKETCH4_R)
    extrude(amount=BOSS_EXTRUDE2_DEPTH)


solid = part.part
